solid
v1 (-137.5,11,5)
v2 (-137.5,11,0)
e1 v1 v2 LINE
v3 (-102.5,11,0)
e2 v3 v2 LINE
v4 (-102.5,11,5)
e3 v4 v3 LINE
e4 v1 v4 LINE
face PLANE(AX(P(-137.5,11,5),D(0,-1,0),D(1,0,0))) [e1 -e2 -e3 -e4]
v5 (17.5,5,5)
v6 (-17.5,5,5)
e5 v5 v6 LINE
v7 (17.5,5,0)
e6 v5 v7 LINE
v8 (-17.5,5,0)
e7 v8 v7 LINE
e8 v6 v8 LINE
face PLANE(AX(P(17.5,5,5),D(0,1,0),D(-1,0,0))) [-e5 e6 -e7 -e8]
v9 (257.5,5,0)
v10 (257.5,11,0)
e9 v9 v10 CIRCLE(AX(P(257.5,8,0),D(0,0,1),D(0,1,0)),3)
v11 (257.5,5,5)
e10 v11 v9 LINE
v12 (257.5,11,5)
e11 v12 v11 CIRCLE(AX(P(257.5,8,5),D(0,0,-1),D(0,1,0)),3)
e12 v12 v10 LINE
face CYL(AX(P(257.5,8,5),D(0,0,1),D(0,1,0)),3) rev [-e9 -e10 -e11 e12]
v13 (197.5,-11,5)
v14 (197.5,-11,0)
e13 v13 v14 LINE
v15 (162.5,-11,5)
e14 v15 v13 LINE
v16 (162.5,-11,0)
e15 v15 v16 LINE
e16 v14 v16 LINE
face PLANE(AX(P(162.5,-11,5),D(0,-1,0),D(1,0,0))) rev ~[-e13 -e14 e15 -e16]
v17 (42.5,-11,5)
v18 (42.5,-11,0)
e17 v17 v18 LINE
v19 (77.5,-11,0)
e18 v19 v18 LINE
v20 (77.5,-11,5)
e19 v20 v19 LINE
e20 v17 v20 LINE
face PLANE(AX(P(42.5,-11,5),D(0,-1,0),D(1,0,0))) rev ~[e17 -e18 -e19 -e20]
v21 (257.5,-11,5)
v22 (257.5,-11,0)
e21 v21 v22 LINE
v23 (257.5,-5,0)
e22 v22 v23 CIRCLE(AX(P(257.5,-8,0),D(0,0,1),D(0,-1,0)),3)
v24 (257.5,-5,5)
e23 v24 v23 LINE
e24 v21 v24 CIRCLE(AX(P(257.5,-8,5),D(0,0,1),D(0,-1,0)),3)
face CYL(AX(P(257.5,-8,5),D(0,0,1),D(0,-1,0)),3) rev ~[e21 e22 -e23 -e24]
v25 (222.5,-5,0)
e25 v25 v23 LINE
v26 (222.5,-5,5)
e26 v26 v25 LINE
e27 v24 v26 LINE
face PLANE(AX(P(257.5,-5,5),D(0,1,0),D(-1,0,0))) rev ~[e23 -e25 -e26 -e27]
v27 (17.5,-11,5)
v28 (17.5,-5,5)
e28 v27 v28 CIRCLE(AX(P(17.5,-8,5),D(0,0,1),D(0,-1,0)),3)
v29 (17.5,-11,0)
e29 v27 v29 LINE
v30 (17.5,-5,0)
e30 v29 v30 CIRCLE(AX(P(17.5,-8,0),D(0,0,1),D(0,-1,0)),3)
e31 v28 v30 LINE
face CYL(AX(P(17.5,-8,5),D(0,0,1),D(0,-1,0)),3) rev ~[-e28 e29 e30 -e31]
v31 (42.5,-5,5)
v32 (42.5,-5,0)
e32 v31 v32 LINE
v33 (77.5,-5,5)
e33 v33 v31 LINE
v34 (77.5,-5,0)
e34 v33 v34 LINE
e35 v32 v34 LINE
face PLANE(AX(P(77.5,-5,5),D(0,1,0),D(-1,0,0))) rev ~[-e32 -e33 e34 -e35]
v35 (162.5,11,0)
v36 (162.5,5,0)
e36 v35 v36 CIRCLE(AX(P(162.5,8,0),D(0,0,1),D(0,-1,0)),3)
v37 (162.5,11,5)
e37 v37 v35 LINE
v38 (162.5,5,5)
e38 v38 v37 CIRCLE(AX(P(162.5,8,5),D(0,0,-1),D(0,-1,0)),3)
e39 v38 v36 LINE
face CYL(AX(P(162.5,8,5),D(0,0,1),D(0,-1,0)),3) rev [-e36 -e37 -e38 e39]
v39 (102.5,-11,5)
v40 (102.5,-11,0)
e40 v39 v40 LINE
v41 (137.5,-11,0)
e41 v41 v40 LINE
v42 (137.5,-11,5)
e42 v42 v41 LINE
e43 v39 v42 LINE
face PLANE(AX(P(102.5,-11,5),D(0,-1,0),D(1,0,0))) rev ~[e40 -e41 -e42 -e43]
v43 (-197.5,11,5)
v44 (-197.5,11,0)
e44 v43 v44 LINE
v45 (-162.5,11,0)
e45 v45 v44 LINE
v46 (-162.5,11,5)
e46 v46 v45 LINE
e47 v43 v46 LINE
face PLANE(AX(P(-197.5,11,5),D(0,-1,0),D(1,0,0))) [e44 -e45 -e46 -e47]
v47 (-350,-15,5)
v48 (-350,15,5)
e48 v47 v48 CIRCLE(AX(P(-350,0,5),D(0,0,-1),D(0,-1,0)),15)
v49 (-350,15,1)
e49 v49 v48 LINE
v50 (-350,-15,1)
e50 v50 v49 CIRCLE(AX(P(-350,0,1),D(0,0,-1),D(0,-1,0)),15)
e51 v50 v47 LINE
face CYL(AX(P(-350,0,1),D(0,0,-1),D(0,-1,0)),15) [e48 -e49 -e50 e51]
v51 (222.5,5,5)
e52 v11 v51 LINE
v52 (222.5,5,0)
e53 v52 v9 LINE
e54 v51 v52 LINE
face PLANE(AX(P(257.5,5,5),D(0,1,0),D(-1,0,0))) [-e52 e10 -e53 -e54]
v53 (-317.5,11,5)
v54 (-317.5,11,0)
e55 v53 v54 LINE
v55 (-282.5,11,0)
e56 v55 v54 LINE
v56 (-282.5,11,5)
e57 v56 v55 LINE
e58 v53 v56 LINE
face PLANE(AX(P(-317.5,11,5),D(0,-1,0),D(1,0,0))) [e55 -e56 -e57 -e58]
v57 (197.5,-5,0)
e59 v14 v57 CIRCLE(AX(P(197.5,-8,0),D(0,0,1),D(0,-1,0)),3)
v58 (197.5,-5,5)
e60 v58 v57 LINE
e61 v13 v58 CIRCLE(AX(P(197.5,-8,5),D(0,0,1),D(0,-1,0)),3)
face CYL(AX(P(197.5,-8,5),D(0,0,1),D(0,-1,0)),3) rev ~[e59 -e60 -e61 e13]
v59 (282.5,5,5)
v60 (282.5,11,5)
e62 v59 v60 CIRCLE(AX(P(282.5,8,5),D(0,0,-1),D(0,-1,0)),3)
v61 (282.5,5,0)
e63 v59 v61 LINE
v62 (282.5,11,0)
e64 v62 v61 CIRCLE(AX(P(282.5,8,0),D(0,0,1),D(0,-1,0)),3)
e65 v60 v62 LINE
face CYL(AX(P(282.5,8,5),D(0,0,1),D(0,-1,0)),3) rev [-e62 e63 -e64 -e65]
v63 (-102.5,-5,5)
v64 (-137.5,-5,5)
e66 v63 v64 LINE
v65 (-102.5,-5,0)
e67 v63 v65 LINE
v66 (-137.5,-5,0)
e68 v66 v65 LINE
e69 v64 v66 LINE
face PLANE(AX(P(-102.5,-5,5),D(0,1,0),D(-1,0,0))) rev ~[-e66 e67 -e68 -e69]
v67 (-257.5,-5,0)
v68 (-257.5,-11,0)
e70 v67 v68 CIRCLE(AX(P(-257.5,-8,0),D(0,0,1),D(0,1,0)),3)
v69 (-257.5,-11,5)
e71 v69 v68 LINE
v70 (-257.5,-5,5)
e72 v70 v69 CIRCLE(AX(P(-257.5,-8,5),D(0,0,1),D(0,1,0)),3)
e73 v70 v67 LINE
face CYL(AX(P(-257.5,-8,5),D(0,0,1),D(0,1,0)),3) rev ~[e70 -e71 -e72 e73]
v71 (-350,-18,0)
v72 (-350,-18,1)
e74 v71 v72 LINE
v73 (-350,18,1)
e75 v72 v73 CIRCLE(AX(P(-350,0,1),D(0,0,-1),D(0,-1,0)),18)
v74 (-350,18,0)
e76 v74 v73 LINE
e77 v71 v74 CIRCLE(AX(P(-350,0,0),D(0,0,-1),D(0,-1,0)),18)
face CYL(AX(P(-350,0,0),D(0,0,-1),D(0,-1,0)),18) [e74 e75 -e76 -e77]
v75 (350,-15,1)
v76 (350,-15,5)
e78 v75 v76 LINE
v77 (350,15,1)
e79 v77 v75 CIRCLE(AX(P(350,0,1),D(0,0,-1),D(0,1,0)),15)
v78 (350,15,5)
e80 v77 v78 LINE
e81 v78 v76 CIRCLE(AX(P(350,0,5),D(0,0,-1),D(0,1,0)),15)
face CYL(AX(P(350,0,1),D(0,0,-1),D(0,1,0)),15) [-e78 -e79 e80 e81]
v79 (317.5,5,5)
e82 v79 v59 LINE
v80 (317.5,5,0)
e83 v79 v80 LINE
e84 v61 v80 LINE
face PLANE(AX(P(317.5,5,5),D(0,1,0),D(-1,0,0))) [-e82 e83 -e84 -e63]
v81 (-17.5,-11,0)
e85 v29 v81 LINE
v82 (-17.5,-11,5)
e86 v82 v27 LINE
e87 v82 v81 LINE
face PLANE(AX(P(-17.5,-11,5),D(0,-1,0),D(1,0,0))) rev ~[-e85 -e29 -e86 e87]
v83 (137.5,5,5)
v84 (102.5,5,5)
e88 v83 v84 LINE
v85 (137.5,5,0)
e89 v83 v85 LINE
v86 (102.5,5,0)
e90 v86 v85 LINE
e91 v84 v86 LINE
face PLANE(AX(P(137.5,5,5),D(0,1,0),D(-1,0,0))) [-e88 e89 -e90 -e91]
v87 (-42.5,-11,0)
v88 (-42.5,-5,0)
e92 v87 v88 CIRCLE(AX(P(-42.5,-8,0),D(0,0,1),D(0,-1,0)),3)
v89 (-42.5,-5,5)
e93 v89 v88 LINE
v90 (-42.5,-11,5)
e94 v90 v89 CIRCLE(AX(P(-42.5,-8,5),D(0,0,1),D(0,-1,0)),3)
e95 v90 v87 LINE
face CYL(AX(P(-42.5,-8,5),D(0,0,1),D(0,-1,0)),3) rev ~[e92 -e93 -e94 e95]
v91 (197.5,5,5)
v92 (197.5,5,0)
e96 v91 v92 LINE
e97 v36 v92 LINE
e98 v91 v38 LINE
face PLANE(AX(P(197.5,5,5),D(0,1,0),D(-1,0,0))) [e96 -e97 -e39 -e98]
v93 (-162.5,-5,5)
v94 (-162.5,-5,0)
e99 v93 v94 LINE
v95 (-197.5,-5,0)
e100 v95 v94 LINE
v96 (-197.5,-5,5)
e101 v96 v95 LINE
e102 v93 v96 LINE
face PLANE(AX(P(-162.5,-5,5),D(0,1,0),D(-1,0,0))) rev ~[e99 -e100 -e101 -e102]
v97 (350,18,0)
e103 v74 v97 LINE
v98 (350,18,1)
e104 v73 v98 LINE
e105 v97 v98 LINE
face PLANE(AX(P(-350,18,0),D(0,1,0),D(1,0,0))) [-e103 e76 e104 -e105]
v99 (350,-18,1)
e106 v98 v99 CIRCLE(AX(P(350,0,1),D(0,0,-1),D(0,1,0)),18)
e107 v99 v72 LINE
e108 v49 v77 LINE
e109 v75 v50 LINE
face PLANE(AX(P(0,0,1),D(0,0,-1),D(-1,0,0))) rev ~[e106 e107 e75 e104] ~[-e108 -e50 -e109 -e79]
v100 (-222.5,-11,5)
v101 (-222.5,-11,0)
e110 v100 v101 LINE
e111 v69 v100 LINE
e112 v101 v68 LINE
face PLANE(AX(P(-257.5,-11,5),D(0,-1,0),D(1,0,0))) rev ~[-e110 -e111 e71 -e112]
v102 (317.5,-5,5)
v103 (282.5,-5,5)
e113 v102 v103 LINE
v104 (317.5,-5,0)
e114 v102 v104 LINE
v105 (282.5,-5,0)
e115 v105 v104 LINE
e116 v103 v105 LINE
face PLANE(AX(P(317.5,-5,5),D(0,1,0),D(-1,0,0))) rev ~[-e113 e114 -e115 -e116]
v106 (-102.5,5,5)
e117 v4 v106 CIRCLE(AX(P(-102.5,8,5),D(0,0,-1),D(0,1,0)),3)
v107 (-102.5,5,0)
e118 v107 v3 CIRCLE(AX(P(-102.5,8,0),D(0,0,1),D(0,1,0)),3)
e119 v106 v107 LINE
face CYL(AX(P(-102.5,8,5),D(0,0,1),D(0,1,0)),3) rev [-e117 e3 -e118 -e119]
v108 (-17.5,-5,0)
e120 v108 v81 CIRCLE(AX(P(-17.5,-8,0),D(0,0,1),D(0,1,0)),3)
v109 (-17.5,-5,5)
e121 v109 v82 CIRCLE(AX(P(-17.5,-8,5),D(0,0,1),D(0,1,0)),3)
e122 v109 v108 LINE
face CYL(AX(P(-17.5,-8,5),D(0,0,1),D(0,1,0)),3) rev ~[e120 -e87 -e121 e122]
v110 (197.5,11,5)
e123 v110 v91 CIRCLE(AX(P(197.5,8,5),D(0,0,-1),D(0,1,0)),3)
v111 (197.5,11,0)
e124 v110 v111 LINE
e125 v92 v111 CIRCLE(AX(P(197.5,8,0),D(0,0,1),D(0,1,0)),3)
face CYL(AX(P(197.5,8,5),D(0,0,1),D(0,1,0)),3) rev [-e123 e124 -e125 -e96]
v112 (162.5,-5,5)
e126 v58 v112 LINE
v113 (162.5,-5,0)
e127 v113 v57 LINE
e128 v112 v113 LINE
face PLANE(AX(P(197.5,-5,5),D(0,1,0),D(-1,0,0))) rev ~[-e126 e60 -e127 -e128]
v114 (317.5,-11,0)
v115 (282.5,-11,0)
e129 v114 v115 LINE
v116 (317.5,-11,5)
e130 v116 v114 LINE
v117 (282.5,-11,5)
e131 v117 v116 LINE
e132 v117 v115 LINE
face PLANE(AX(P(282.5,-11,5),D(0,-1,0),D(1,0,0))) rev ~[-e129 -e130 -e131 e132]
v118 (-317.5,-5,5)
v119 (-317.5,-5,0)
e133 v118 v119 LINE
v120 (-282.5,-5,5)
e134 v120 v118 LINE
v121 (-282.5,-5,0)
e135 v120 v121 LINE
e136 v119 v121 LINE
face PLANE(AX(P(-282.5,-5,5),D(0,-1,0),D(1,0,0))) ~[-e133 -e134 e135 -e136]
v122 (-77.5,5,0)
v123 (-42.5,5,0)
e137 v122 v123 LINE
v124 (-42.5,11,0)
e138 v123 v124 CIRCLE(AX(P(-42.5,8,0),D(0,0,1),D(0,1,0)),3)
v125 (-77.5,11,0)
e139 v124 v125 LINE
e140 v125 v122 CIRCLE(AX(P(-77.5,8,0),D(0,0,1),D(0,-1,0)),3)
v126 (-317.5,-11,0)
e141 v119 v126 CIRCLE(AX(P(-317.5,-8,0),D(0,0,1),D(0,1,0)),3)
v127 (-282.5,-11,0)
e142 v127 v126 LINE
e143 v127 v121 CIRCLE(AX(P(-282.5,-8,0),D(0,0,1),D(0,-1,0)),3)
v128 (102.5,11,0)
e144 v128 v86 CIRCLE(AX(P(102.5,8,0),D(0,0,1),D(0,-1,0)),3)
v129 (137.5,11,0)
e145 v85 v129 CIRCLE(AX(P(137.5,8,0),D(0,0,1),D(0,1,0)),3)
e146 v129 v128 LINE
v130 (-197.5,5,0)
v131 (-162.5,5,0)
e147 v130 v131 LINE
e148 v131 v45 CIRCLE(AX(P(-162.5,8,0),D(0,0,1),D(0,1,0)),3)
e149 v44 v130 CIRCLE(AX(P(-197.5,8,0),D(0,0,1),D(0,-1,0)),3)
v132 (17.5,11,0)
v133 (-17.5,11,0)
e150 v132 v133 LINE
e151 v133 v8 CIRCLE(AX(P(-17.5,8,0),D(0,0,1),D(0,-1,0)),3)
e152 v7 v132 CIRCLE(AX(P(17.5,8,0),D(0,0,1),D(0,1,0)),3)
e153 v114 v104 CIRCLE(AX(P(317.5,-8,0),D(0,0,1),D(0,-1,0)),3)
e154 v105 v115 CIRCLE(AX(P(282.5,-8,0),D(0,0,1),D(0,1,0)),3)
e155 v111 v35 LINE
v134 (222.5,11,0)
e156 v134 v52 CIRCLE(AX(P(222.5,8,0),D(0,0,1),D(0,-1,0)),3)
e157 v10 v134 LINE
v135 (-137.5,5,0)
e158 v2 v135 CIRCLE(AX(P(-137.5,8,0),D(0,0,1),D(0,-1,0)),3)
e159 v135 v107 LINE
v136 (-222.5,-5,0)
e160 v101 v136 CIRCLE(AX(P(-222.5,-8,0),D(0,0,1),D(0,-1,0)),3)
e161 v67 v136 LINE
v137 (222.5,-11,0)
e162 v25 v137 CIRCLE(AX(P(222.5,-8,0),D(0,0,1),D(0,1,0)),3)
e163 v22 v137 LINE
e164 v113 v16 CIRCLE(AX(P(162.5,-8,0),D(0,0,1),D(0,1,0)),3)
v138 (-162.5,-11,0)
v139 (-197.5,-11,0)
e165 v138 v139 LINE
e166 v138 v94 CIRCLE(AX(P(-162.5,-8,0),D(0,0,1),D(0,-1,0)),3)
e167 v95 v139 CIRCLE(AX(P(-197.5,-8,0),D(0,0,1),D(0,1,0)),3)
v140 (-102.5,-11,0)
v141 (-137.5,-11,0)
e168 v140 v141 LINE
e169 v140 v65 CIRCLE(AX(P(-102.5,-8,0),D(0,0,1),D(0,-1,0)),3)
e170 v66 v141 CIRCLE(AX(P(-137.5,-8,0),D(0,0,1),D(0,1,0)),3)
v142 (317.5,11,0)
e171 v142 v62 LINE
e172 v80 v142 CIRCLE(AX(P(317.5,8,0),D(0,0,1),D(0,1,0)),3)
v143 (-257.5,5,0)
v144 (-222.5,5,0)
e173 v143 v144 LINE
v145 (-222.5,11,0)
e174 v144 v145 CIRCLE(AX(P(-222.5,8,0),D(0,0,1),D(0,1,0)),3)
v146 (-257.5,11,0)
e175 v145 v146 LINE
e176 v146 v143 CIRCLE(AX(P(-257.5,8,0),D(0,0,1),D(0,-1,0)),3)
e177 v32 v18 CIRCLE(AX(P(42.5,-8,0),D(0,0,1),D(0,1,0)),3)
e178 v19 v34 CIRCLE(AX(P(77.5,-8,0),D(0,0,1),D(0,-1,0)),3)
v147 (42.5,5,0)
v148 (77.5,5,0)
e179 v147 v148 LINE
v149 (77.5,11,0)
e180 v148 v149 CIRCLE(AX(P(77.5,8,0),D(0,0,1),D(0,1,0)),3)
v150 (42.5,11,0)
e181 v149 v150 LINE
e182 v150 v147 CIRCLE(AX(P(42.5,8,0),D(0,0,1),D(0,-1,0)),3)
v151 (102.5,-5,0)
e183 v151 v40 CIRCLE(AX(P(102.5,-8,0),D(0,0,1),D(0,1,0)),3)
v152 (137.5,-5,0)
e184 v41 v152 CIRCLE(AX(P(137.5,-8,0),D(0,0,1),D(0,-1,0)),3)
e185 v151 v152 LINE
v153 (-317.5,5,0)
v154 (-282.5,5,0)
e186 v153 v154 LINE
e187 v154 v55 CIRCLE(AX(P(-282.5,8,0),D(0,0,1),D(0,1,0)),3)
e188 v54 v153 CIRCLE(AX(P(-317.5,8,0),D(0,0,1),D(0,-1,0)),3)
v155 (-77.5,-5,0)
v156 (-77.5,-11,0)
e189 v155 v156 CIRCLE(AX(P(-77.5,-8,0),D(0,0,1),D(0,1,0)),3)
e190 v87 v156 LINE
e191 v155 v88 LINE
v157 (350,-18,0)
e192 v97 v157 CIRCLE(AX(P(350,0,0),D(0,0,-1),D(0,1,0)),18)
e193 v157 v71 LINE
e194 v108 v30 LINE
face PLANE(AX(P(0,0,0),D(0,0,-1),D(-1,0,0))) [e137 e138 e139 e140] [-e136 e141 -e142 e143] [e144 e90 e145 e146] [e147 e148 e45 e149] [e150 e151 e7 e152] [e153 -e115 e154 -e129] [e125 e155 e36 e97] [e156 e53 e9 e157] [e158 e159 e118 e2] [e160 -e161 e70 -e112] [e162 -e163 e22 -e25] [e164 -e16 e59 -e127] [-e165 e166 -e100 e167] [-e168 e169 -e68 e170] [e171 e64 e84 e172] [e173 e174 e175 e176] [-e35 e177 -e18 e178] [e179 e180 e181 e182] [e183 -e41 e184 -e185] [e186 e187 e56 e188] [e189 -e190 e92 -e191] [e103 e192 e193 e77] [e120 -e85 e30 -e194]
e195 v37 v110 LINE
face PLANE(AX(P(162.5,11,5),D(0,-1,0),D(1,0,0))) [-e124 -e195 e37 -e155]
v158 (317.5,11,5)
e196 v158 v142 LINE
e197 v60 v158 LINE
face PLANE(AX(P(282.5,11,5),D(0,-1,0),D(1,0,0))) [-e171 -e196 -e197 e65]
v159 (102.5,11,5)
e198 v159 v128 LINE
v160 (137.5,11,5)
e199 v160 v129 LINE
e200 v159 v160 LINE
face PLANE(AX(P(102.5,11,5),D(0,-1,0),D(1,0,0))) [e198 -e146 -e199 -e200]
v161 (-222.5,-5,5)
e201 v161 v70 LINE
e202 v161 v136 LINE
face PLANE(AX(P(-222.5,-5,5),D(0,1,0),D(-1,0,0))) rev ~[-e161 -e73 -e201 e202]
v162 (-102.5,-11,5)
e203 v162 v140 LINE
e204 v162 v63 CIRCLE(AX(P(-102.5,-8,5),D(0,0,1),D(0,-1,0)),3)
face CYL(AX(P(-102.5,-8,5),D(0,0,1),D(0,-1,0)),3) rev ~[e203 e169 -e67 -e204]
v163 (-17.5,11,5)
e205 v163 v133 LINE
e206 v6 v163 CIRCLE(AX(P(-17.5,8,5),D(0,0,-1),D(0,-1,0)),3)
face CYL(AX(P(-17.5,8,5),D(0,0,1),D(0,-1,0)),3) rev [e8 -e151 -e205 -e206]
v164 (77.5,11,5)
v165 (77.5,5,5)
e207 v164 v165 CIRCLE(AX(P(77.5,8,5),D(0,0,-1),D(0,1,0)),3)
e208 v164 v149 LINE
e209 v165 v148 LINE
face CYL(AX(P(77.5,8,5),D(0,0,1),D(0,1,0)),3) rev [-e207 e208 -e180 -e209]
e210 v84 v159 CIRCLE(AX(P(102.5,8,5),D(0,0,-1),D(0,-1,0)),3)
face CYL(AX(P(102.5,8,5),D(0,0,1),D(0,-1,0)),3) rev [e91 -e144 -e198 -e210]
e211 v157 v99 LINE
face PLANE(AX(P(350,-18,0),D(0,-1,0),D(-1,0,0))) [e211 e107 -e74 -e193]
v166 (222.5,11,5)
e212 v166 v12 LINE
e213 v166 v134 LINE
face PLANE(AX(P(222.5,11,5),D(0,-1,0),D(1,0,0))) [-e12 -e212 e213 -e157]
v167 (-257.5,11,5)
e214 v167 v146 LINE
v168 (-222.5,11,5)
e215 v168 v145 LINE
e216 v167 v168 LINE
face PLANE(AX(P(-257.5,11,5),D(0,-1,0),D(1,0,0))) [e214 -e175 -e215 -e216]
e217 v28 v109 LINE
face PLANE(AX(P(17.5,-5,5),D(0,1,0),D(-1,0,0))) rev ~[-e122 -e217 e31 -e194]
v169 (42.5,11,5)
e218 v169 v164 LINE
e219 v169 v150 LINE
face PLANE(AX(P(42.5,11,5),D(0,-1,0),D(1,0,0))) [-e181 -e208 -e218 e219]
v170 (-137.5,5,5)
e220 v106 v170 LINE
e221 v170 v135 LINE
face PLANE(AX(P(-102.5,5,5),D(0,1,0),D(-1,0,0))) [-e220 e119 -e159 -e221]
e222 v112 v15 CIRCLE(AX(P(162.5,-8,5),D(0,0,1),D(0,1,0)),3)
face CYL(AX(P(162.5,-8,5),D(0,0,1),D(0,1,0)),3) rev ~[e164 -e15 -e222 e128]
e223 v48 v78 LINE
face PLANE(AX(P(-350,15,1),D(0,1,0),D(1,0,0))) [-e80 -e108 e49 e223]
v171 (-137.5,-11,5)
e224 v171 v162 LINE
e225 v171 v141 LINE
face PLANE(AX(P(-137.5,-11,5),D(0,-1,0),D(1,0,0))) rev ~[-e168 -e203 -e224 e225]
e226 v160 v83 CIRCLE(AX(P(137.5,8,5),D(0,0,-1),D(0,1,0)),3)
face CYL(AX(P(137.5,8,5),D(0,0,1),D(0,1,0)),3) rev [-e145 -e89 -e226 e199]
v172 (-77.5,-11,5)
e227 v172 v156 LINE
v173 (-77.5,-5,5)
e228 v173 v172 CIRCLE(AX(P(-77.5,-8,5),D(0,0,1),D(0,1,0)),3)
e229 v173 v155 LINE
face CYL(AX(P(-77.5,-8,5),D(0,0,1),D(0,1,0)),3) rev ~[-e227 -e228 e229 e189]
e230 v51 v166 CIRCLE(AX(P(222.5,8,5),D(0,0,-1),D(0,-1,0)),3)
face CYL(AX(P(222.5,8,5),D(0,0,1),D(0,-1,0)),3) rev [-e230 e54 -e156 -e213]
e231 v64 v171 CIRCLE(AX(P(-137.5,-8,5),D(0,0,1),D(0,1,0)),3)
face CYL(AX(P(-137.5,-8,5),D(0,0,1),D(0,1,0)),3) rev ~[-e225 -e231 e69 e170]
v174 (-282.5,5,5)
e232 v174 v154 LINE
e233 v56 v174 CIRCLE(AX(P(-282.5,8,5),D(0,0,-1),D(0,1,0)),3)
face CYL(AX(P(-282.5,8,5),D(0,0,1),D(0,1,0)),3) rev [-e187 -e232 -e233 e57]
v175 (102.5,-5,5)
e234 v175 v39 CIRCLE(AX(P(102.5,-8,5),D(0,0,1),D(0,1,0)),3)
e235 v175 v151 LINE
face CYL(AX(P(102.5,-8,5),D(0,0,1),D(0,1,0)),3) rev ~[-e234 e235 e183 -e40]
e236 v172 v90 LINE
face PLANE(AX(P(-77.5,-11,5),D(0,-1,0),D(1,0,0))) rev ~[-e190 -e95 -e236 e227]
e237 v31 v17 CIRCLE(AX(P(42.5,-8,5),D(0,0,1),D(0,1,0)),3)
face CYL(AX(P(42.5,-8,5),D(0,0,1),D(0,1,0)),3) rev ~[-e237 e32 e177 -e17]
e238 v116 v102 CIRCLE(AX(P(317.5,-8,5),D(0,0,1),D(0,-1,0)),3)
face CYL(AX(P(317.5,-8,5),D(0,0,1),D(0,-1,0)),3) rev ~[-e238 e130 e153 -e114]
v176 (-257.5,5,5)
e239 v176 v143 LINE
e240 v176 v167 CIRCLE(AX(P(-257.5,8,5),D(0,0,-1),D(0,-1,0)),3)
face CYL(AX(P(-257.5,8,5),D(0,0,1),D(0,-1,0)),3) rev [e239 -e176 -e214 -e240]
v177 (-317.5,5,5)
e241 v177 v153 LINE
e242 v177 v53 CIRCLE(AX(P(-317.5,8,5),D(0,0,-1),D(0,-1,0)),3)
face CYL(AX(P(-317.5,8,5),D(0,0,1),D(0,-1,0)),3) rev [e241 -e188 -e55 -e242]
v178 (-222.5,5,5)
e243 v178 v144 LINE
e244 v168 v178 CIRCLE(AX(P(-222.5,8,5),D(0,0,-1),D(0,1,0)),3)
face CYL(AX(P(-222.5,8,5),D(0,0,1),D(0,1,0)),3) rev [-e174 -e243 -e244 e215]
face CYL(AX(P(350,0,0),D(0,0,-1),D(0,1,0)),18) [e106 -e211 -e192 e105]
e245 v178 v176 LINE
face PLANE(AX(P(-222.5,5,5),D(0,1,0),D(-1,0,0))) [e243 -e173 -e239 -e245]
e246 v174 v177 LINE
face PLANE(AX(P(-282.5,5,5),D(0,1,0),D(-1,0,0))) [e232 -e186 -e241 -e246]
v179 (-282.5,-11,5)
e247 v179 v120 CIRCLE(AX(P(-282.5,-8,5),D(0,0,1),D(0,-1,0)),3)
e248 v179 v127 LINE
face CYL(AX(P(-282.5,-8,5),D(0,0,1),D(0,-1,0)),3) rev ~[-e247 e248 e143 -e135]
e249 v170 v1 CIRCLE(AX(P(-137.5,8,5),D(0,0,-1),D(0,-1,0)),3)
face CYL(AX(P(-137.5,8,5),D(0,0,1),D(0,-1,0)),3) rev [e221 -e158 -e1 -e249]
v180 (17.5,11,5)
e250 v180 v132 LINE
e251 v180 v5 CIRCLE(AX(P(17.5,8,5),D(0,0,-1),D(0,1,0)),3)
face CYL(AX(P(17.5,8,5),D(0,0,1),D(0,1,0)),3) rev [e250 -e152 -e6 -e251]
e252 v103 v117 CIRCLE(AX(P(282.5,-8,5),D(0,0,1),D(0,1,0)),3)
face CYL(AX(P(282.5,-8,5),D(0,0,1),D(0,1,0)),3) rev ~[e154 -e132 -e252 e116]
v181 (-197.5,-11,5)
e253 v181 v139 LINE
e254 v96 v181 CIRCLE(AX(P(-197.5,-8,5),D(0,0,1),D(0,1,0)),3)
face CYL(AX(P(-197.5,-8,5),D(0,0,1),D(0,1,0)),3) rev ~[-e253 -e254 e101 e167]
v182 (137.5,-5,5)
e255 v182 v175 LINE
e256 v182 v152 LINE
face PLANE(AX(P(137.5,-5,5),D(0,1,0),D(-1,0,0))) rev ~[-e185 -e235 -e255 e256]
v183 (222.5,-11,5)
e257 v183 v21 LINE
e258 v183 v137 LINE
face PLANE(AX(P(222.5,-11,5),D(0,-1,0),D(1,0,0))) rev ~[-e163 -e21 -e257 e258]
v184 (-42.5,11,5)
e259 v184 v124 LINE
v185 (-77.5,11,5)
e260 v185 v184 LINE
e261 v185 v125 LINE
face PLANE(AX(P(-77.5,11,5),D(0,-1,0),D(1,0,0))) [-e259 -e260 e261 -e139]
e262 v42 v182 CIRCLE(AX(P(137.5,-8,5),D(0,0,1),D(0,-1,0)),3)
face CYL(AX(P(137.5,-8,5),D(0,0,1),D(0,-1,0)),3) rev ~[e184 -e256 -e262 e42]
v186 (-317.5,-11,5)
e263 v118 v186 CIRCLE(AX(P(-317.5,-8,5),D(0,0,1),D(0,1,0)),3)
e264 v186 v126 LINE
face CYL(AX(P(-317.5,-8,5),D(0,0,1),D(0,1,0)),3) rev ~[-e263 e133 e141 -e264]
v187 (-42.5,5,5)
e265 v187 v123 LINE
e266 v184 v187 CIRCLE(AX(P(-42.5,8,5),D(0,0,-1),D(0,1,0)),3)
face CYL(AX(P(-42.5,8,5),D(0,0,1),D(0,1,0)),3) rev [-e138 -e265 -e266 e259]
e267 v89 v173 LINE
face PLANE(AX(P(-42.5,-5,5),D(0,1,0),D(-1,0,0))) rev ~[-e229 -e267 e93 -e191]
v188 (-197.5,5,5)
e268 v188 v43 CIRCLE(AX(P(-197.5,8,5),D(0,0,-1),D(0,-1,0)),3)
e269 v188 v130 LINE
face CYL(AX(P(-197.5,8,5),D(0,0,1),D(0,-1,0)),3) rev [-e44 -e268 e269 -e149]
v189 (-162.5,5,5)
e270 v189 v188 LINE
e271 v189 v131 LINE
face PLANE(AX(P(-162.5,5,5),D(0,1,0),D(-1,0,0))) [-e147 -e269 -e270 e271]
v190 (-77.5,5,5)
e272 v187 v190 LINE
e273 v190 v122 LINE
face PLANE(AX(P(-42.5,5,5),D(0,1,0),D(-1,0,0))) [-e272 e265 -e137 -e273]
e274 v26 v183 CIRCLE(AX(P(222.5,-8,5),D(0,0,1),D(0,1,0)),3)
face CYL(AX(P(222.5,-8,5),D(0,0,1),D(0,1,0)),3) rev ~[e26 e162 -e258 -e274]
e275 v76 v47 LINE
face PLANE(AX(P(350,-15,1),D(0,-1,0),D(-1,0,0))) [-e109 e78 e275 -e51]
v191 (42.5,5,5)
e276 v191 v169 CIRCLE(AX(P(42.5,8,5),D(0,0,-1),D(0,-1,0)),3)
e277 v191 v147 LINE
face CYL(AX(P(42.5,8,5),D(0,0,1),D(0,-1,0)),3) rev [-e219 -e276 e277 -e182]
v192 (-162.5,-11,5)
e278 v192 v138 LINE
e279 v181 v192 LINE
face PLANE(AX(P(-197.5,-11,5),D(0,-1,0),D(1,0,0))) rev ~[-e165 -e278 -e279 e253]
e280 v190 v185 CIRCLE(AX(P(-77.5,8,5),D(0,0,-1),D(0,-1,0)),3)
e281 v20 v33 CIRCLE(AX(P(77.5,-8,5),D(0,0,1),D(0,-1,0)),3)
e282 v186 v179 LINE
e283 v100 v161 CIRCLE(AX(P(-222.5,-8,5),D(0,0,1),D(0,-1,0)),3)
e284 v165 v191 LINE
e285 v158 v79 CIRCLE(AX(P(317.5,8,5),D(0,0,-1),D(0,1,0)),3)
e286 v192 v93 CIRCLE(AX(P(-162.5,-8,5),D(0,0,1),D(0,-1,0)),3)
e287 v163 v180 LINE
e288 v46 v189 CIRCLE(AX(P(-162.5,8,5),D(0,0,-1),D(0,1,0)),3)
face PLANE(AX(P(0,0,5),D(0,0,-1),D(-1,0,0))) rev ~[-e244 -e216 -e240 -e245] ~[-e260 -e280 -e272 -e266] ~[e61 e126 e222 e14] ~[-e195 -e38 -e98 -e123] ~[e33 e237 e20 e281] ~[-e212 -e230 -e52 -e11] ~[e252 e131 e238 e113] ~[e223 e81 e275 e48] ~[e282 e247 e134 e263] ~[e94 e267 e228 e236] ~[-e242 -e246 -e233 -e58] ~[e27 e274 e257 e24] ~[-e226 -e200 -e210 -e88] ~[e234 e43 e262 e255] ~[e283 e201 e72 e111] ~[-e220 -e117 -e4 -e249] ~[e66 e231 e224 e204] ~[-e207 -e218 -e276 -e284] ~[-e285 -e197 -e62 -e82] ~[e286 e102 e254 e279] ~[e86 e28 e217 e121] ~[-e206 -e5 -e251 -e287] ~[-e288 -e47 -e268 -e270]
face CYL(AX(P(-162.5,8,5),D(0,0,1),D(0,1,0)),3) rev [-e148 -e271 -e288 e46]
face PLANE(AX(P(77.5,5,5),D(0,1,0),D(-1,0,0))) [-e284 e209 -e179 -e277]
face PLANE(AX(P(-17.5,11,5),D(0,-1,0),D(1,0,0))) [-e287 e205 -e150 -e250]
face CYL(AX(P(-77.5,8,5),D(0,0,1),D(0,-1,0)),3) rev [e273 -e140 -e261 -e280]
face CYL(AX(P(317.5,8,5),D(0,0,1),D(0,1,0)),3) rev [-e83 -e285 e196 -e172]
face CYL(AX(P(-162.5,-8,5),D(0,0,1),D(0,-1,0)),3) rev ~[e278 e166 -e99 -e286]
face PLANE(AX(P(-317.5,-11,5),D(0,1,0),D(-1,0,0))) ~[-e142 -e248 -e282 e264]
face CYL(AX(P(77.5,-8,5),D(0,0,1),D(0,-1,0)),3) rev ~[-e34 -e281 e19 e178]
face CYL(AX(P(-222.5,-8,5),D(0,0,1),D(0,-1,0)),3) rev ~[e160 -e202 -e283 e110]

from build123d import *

# Parameters (mm, degrees)
BOSS_EXTRUDE4_DEPTH   = 1
BOSS_EXTRUDE5_DEPTH   = 4
CUT_EXTRUDE3_DEPTH    = 6
LPATTERN1_COUNT       = 11
LPATTERN1_PITCH       = 60
MIRROR1_COPY_1_DEPTH  = 6
MIRROR1_COPY_2_DEPTH  = 6
MIRROR1_COPY_3_DEPTH  = 6
MIRROR1_COPY_4_DEPTH  = 6
MIRROR1_COPY_5_DEPTH  = 6
MIRROR1_COPY_6_DEPTH  = 6
MIRROR1_COPY_7_DEPTH  = 6
MIRROR1_COPY_8_DEPTH  = 6
MIRROR1_COPY_9_DEPTH  = 6
MIRROR1_COPY_10_DEPTH = 6


with BuildPart() as part:
    # Sketch3 → Boss-Extrude4 (new body)
    with BuildSketch(Plane.XY):
        with BuildLine():
            Line((-350, 18), (350, 18))
            ThreePointArc((350, 18), (368, 0), (350, -18))
            Line((350, -18), (-350, -18))
            ThreePointArc((-350, -18), (-368, 0), (-350, 18))
        make_face()
    extrude(amount=BOSS_EXTRUDE4_DEPTH)

    # Sketch4 → Boss-Extrude5 (add)
    with BuildSketch(Plane.XY.offset(1)):
        with BuildLine():
            Line((-350, 15), (350, 15))
            ThreePointArc((350, 15), (365, 0), (350, -15))
            Line((350, -15), (-350, -15))
            ThreePointArc((-350, -15), (-365, 0), (-350, 15))
        make_face()
    extrude(amount=BOSS_EXTRUDE5_DEPTH)

    # Sketch5 → Cut-Extrude3 (cut, through all)
    with BuildSketch(Plane.XY.offset(5)):
        with BuildLine():
            Line((-317.5, 11), (-282.5, 11))
            ThreePointArc((-282.5, 11), (-279.5, 8), (-282.5, 5))
            Line((-282.5, 5), (-317.5, 5))
            ThreePointArc((-317.5, 5), (-320.5, 8), (-317.5, 11))
        make_face()
    cut_extrude3 = extrude(amount=-CUT_EXTRUDE3_DEPTH, mode=Mode.SUBTRACT)

    # LPattern1: Cut-Extrude3 ×11
    with Locations(*[(i * LPATTERN1_PITCH, 0, 0) for i in range(1, LPATTERN1_COUNT)]):
        add(cut_extrude3, mode=Mode.SUBTRACT)

    # Mirror1: Cut-Extrude3 across plane
    add(cut_extrude3.mirror(Plane.ZX), mode=Mode.SUBTRACT)

    # Mirror1 copy 1 sketch → Mirror1 copy 1 (cut, through all)
    with BuildSketch(Plane(origin=(60, 0, 5), x_dir=(1, 0, 0), z_dir=(0, 0, 1))):
        with BuildLine():
            Line((-317.5, -11), (-282.5, -11))
            ThreePointArc((-282.5, -11), (-279.5, -8), (-282.5, -5))
            Line((-282.5, -5), (-317.5, -5))
            ThreePointArc((-317.5, -5), (-320.5, -8), (-317.5, -11))
        make_face()
    extrude(amount=-MIRROR1_COPY_1_DEPTH, mode=Mode.SUBTRACT)

    # Mirror1 copy 2 sketch → Mirror1 copy 2 (cut, through all)
    with BuildSketch(Plane(origin=(120, 0, 5), x_dir=(1, 0, 0), z_dir=(0, 0, 1))):
        with BuildLine():
            Line((-317.5, -11), (-282.5, -11))
            ThreePointArc((-282.5, -11), (-279.5, -8), (-282.5, -5))
            Line((-282.5, -5), (-317.5, -5))
            ThreePointArc((-317.5, -5), (-320.5, -8), (-317.5, -11))
        make_face()
    extrude(amount=-MIRROR1_COPY_2_DEPTH, mode=Mode.SUBTRACT)

    # Mirror1 copy 3 sketch → Mirror1 copy 3 (cut, through all)
    with BuildSketch(Plane(origin=(180, 0, 5), x_dir=(1, 0, 0), z_dir=(0, 0, 1))):
        with BuildLine():
            Line((-317.5, -11), (-282.5, -11))
            ThreePointArc((-282.5, -11), (-279.5, -8), (-282.5, -5))
            Line((-282.5, -5), (-317.5, -5))
            ThreePointArc((-317.5, -5), (-320.5, -8), (-317.5, -11))
        make_face()
    extrude(amount=-MIRROR1_COPY_3_DEPTH, mode=Mode.SUBTRACT)

    # Mirror1 copy 4 sketch → Mirror1 copy 4 (cut, through all)
    with BuildSketch(Plane(origin=(240, 0, 5), x_dir=(1, 0, 0), z_dir=(0, 0, 1))):
        with BuildLine():
            Line((-317.5, -11), (-282.5, -11))
            ThreePointArc((-282.5, -11), (-279.5, -8), (-282.5, -5))
            Line((-282.5, -5), (-317.5, -5))
            ThreePointArc((-317.5, -5), (-320.5, -8), (-317.5, -11))
        make_face()
    extrude(amount=-MIRROR1_COPY_4_DEPTH, mode=Mode.SUBTRACT)

    # Mirror1 copy 5 sketch → Mirror1 copy 5 (cut, through all)
    with BuildSketch(Plane(origin=(300, 0, 5), x_dir=(1, 0, 0), z_dir=(0, 0, 1))):
        with BuildLine():
            Line((-317.5, -11), (-282.5, -11))
            ThreePointArc((-282.5, -11), (-279.5, -8), (-282.5, -5))
            Line((-282.5, -5), (-317.5, -5))
            ThreePointArc((-317.5, -5), (-320.5, -8), (-317.5, -11))
        make_face()
    extrude(amount=-MIRROR1_COPY_5_DEPTH, mode=Mode.SUBTRACT)

    # Mirror1 copy 6 sketch → Mirror1 copy 6 (cut, through all)
    with BuildSketch(Plane(origin=(360, 0, 5), x_dir=(1, 0, 0), z_dir=(0, 0, 1))):
        with BuildLine():
            Line((-317.5, -11), (-282.5, -11))
            ThreePointArc((-282.5, -11), (-279.5, -8), (-282.5, -5))
            Line((-282.5, -5), (-317.5, -5))
            ThreePointArc((-317.5, -5), (-320.5, -8), (-317.5, -11))
        make_face()
    extrude(amount=-MIRROR1_COPY_6_DEPTH, mode=Mode.SUBTRACT)

    # Mirror1 copy 7 sketch → Mirror1 copy 7 (cut, through all)
    with BuildSketch(Plane(origin=(420, 0, 5), x_dir=(1, 0, 0), z_dir=(0, 0, 1))):
        with BuildLine():
            Line((-317.5, -11), (-282.5, -11))
            ThreePointArc((-282.5, -11), (-279.5, -8), (-282.5, -5))
            Line((-282.5, -5), (-317.5, -5))
            ThreePointArc((-317.5, -5), (-320.5, -8), (-317.5, -11))
        make_face()
    extrude(amount=-MIRROR1_COPY_7_DEPTH, mode=Mode.SUBTRACT)

    # Mirror1 copy 8 sketch → Mirror1 copy 8 (cut, through all)
    with BuildSketch(Plane(origin=(480, 0, 5), x_dir=(1, 0, 0), z_dir=(0, 0, 1))):
        with BuildLine():
            Line((-317.5, -11), (-282.5, -11))
            ThreePointArc((-282.5, -11), (-279.5, -8), (-282.5, -5))
            Line((-282.5, -5), (-317.5, -5))
            ThreePointArc((-317.5, -5), (-320.5, -8), (-317.5, -11))
        make_face()
    extrude(amount=-MIRROR1_COPY_8_DEPTH, mode=Mode.SUBTRACT)

    # Mirror1 copy 9 sketch → Mirror1 copy 9 (cut, through all)
    with BuildSketch(Plane(origin=(540, 0, 5), x_dir=(1, 0, 0), z_dir=(0, 0, 1))):
        with BuildLine():
            Line((-317.5, -11), (-282.5, -11))
            ThreePointArc((-282.5, -11), (-279.5, -8), (-282.5, -5))
            Line((-282.5, -5), (-317.5, -5))
            ThreePointArc((-317.5, -5), (-320.5, -8), (-317.5, -11))
        make_face()
    extrude(amount=-MIRROR1_COPY_9_DEPTH, mode=Mode.SUBTRACT)

    # Mirror1 copy 10 sketch → Mirror1 copy 10 (cut, through all)
    with BuildSketch(Plane(origin=(600, 0, 5), x_dir=(1, 0, 0), z_dir=(0, 0, 1))):
        with BuildLine():
            Line((-317.5, -11), (-282.5, -11))
            ThreePointArc((-282.5, -11), (-279.5, -8), (-282.5, -5))
            Line((-282.5, -5), (-317.5, -5))
            ThreePointArc((-317.5, -5), (-320.5, -8), (-317.5, -11))
        make_face()
    extrude(amount=-MIRROR1_COPY_10_DEPTH, mode=Mode.SUBTRACT)


solid = part.part
